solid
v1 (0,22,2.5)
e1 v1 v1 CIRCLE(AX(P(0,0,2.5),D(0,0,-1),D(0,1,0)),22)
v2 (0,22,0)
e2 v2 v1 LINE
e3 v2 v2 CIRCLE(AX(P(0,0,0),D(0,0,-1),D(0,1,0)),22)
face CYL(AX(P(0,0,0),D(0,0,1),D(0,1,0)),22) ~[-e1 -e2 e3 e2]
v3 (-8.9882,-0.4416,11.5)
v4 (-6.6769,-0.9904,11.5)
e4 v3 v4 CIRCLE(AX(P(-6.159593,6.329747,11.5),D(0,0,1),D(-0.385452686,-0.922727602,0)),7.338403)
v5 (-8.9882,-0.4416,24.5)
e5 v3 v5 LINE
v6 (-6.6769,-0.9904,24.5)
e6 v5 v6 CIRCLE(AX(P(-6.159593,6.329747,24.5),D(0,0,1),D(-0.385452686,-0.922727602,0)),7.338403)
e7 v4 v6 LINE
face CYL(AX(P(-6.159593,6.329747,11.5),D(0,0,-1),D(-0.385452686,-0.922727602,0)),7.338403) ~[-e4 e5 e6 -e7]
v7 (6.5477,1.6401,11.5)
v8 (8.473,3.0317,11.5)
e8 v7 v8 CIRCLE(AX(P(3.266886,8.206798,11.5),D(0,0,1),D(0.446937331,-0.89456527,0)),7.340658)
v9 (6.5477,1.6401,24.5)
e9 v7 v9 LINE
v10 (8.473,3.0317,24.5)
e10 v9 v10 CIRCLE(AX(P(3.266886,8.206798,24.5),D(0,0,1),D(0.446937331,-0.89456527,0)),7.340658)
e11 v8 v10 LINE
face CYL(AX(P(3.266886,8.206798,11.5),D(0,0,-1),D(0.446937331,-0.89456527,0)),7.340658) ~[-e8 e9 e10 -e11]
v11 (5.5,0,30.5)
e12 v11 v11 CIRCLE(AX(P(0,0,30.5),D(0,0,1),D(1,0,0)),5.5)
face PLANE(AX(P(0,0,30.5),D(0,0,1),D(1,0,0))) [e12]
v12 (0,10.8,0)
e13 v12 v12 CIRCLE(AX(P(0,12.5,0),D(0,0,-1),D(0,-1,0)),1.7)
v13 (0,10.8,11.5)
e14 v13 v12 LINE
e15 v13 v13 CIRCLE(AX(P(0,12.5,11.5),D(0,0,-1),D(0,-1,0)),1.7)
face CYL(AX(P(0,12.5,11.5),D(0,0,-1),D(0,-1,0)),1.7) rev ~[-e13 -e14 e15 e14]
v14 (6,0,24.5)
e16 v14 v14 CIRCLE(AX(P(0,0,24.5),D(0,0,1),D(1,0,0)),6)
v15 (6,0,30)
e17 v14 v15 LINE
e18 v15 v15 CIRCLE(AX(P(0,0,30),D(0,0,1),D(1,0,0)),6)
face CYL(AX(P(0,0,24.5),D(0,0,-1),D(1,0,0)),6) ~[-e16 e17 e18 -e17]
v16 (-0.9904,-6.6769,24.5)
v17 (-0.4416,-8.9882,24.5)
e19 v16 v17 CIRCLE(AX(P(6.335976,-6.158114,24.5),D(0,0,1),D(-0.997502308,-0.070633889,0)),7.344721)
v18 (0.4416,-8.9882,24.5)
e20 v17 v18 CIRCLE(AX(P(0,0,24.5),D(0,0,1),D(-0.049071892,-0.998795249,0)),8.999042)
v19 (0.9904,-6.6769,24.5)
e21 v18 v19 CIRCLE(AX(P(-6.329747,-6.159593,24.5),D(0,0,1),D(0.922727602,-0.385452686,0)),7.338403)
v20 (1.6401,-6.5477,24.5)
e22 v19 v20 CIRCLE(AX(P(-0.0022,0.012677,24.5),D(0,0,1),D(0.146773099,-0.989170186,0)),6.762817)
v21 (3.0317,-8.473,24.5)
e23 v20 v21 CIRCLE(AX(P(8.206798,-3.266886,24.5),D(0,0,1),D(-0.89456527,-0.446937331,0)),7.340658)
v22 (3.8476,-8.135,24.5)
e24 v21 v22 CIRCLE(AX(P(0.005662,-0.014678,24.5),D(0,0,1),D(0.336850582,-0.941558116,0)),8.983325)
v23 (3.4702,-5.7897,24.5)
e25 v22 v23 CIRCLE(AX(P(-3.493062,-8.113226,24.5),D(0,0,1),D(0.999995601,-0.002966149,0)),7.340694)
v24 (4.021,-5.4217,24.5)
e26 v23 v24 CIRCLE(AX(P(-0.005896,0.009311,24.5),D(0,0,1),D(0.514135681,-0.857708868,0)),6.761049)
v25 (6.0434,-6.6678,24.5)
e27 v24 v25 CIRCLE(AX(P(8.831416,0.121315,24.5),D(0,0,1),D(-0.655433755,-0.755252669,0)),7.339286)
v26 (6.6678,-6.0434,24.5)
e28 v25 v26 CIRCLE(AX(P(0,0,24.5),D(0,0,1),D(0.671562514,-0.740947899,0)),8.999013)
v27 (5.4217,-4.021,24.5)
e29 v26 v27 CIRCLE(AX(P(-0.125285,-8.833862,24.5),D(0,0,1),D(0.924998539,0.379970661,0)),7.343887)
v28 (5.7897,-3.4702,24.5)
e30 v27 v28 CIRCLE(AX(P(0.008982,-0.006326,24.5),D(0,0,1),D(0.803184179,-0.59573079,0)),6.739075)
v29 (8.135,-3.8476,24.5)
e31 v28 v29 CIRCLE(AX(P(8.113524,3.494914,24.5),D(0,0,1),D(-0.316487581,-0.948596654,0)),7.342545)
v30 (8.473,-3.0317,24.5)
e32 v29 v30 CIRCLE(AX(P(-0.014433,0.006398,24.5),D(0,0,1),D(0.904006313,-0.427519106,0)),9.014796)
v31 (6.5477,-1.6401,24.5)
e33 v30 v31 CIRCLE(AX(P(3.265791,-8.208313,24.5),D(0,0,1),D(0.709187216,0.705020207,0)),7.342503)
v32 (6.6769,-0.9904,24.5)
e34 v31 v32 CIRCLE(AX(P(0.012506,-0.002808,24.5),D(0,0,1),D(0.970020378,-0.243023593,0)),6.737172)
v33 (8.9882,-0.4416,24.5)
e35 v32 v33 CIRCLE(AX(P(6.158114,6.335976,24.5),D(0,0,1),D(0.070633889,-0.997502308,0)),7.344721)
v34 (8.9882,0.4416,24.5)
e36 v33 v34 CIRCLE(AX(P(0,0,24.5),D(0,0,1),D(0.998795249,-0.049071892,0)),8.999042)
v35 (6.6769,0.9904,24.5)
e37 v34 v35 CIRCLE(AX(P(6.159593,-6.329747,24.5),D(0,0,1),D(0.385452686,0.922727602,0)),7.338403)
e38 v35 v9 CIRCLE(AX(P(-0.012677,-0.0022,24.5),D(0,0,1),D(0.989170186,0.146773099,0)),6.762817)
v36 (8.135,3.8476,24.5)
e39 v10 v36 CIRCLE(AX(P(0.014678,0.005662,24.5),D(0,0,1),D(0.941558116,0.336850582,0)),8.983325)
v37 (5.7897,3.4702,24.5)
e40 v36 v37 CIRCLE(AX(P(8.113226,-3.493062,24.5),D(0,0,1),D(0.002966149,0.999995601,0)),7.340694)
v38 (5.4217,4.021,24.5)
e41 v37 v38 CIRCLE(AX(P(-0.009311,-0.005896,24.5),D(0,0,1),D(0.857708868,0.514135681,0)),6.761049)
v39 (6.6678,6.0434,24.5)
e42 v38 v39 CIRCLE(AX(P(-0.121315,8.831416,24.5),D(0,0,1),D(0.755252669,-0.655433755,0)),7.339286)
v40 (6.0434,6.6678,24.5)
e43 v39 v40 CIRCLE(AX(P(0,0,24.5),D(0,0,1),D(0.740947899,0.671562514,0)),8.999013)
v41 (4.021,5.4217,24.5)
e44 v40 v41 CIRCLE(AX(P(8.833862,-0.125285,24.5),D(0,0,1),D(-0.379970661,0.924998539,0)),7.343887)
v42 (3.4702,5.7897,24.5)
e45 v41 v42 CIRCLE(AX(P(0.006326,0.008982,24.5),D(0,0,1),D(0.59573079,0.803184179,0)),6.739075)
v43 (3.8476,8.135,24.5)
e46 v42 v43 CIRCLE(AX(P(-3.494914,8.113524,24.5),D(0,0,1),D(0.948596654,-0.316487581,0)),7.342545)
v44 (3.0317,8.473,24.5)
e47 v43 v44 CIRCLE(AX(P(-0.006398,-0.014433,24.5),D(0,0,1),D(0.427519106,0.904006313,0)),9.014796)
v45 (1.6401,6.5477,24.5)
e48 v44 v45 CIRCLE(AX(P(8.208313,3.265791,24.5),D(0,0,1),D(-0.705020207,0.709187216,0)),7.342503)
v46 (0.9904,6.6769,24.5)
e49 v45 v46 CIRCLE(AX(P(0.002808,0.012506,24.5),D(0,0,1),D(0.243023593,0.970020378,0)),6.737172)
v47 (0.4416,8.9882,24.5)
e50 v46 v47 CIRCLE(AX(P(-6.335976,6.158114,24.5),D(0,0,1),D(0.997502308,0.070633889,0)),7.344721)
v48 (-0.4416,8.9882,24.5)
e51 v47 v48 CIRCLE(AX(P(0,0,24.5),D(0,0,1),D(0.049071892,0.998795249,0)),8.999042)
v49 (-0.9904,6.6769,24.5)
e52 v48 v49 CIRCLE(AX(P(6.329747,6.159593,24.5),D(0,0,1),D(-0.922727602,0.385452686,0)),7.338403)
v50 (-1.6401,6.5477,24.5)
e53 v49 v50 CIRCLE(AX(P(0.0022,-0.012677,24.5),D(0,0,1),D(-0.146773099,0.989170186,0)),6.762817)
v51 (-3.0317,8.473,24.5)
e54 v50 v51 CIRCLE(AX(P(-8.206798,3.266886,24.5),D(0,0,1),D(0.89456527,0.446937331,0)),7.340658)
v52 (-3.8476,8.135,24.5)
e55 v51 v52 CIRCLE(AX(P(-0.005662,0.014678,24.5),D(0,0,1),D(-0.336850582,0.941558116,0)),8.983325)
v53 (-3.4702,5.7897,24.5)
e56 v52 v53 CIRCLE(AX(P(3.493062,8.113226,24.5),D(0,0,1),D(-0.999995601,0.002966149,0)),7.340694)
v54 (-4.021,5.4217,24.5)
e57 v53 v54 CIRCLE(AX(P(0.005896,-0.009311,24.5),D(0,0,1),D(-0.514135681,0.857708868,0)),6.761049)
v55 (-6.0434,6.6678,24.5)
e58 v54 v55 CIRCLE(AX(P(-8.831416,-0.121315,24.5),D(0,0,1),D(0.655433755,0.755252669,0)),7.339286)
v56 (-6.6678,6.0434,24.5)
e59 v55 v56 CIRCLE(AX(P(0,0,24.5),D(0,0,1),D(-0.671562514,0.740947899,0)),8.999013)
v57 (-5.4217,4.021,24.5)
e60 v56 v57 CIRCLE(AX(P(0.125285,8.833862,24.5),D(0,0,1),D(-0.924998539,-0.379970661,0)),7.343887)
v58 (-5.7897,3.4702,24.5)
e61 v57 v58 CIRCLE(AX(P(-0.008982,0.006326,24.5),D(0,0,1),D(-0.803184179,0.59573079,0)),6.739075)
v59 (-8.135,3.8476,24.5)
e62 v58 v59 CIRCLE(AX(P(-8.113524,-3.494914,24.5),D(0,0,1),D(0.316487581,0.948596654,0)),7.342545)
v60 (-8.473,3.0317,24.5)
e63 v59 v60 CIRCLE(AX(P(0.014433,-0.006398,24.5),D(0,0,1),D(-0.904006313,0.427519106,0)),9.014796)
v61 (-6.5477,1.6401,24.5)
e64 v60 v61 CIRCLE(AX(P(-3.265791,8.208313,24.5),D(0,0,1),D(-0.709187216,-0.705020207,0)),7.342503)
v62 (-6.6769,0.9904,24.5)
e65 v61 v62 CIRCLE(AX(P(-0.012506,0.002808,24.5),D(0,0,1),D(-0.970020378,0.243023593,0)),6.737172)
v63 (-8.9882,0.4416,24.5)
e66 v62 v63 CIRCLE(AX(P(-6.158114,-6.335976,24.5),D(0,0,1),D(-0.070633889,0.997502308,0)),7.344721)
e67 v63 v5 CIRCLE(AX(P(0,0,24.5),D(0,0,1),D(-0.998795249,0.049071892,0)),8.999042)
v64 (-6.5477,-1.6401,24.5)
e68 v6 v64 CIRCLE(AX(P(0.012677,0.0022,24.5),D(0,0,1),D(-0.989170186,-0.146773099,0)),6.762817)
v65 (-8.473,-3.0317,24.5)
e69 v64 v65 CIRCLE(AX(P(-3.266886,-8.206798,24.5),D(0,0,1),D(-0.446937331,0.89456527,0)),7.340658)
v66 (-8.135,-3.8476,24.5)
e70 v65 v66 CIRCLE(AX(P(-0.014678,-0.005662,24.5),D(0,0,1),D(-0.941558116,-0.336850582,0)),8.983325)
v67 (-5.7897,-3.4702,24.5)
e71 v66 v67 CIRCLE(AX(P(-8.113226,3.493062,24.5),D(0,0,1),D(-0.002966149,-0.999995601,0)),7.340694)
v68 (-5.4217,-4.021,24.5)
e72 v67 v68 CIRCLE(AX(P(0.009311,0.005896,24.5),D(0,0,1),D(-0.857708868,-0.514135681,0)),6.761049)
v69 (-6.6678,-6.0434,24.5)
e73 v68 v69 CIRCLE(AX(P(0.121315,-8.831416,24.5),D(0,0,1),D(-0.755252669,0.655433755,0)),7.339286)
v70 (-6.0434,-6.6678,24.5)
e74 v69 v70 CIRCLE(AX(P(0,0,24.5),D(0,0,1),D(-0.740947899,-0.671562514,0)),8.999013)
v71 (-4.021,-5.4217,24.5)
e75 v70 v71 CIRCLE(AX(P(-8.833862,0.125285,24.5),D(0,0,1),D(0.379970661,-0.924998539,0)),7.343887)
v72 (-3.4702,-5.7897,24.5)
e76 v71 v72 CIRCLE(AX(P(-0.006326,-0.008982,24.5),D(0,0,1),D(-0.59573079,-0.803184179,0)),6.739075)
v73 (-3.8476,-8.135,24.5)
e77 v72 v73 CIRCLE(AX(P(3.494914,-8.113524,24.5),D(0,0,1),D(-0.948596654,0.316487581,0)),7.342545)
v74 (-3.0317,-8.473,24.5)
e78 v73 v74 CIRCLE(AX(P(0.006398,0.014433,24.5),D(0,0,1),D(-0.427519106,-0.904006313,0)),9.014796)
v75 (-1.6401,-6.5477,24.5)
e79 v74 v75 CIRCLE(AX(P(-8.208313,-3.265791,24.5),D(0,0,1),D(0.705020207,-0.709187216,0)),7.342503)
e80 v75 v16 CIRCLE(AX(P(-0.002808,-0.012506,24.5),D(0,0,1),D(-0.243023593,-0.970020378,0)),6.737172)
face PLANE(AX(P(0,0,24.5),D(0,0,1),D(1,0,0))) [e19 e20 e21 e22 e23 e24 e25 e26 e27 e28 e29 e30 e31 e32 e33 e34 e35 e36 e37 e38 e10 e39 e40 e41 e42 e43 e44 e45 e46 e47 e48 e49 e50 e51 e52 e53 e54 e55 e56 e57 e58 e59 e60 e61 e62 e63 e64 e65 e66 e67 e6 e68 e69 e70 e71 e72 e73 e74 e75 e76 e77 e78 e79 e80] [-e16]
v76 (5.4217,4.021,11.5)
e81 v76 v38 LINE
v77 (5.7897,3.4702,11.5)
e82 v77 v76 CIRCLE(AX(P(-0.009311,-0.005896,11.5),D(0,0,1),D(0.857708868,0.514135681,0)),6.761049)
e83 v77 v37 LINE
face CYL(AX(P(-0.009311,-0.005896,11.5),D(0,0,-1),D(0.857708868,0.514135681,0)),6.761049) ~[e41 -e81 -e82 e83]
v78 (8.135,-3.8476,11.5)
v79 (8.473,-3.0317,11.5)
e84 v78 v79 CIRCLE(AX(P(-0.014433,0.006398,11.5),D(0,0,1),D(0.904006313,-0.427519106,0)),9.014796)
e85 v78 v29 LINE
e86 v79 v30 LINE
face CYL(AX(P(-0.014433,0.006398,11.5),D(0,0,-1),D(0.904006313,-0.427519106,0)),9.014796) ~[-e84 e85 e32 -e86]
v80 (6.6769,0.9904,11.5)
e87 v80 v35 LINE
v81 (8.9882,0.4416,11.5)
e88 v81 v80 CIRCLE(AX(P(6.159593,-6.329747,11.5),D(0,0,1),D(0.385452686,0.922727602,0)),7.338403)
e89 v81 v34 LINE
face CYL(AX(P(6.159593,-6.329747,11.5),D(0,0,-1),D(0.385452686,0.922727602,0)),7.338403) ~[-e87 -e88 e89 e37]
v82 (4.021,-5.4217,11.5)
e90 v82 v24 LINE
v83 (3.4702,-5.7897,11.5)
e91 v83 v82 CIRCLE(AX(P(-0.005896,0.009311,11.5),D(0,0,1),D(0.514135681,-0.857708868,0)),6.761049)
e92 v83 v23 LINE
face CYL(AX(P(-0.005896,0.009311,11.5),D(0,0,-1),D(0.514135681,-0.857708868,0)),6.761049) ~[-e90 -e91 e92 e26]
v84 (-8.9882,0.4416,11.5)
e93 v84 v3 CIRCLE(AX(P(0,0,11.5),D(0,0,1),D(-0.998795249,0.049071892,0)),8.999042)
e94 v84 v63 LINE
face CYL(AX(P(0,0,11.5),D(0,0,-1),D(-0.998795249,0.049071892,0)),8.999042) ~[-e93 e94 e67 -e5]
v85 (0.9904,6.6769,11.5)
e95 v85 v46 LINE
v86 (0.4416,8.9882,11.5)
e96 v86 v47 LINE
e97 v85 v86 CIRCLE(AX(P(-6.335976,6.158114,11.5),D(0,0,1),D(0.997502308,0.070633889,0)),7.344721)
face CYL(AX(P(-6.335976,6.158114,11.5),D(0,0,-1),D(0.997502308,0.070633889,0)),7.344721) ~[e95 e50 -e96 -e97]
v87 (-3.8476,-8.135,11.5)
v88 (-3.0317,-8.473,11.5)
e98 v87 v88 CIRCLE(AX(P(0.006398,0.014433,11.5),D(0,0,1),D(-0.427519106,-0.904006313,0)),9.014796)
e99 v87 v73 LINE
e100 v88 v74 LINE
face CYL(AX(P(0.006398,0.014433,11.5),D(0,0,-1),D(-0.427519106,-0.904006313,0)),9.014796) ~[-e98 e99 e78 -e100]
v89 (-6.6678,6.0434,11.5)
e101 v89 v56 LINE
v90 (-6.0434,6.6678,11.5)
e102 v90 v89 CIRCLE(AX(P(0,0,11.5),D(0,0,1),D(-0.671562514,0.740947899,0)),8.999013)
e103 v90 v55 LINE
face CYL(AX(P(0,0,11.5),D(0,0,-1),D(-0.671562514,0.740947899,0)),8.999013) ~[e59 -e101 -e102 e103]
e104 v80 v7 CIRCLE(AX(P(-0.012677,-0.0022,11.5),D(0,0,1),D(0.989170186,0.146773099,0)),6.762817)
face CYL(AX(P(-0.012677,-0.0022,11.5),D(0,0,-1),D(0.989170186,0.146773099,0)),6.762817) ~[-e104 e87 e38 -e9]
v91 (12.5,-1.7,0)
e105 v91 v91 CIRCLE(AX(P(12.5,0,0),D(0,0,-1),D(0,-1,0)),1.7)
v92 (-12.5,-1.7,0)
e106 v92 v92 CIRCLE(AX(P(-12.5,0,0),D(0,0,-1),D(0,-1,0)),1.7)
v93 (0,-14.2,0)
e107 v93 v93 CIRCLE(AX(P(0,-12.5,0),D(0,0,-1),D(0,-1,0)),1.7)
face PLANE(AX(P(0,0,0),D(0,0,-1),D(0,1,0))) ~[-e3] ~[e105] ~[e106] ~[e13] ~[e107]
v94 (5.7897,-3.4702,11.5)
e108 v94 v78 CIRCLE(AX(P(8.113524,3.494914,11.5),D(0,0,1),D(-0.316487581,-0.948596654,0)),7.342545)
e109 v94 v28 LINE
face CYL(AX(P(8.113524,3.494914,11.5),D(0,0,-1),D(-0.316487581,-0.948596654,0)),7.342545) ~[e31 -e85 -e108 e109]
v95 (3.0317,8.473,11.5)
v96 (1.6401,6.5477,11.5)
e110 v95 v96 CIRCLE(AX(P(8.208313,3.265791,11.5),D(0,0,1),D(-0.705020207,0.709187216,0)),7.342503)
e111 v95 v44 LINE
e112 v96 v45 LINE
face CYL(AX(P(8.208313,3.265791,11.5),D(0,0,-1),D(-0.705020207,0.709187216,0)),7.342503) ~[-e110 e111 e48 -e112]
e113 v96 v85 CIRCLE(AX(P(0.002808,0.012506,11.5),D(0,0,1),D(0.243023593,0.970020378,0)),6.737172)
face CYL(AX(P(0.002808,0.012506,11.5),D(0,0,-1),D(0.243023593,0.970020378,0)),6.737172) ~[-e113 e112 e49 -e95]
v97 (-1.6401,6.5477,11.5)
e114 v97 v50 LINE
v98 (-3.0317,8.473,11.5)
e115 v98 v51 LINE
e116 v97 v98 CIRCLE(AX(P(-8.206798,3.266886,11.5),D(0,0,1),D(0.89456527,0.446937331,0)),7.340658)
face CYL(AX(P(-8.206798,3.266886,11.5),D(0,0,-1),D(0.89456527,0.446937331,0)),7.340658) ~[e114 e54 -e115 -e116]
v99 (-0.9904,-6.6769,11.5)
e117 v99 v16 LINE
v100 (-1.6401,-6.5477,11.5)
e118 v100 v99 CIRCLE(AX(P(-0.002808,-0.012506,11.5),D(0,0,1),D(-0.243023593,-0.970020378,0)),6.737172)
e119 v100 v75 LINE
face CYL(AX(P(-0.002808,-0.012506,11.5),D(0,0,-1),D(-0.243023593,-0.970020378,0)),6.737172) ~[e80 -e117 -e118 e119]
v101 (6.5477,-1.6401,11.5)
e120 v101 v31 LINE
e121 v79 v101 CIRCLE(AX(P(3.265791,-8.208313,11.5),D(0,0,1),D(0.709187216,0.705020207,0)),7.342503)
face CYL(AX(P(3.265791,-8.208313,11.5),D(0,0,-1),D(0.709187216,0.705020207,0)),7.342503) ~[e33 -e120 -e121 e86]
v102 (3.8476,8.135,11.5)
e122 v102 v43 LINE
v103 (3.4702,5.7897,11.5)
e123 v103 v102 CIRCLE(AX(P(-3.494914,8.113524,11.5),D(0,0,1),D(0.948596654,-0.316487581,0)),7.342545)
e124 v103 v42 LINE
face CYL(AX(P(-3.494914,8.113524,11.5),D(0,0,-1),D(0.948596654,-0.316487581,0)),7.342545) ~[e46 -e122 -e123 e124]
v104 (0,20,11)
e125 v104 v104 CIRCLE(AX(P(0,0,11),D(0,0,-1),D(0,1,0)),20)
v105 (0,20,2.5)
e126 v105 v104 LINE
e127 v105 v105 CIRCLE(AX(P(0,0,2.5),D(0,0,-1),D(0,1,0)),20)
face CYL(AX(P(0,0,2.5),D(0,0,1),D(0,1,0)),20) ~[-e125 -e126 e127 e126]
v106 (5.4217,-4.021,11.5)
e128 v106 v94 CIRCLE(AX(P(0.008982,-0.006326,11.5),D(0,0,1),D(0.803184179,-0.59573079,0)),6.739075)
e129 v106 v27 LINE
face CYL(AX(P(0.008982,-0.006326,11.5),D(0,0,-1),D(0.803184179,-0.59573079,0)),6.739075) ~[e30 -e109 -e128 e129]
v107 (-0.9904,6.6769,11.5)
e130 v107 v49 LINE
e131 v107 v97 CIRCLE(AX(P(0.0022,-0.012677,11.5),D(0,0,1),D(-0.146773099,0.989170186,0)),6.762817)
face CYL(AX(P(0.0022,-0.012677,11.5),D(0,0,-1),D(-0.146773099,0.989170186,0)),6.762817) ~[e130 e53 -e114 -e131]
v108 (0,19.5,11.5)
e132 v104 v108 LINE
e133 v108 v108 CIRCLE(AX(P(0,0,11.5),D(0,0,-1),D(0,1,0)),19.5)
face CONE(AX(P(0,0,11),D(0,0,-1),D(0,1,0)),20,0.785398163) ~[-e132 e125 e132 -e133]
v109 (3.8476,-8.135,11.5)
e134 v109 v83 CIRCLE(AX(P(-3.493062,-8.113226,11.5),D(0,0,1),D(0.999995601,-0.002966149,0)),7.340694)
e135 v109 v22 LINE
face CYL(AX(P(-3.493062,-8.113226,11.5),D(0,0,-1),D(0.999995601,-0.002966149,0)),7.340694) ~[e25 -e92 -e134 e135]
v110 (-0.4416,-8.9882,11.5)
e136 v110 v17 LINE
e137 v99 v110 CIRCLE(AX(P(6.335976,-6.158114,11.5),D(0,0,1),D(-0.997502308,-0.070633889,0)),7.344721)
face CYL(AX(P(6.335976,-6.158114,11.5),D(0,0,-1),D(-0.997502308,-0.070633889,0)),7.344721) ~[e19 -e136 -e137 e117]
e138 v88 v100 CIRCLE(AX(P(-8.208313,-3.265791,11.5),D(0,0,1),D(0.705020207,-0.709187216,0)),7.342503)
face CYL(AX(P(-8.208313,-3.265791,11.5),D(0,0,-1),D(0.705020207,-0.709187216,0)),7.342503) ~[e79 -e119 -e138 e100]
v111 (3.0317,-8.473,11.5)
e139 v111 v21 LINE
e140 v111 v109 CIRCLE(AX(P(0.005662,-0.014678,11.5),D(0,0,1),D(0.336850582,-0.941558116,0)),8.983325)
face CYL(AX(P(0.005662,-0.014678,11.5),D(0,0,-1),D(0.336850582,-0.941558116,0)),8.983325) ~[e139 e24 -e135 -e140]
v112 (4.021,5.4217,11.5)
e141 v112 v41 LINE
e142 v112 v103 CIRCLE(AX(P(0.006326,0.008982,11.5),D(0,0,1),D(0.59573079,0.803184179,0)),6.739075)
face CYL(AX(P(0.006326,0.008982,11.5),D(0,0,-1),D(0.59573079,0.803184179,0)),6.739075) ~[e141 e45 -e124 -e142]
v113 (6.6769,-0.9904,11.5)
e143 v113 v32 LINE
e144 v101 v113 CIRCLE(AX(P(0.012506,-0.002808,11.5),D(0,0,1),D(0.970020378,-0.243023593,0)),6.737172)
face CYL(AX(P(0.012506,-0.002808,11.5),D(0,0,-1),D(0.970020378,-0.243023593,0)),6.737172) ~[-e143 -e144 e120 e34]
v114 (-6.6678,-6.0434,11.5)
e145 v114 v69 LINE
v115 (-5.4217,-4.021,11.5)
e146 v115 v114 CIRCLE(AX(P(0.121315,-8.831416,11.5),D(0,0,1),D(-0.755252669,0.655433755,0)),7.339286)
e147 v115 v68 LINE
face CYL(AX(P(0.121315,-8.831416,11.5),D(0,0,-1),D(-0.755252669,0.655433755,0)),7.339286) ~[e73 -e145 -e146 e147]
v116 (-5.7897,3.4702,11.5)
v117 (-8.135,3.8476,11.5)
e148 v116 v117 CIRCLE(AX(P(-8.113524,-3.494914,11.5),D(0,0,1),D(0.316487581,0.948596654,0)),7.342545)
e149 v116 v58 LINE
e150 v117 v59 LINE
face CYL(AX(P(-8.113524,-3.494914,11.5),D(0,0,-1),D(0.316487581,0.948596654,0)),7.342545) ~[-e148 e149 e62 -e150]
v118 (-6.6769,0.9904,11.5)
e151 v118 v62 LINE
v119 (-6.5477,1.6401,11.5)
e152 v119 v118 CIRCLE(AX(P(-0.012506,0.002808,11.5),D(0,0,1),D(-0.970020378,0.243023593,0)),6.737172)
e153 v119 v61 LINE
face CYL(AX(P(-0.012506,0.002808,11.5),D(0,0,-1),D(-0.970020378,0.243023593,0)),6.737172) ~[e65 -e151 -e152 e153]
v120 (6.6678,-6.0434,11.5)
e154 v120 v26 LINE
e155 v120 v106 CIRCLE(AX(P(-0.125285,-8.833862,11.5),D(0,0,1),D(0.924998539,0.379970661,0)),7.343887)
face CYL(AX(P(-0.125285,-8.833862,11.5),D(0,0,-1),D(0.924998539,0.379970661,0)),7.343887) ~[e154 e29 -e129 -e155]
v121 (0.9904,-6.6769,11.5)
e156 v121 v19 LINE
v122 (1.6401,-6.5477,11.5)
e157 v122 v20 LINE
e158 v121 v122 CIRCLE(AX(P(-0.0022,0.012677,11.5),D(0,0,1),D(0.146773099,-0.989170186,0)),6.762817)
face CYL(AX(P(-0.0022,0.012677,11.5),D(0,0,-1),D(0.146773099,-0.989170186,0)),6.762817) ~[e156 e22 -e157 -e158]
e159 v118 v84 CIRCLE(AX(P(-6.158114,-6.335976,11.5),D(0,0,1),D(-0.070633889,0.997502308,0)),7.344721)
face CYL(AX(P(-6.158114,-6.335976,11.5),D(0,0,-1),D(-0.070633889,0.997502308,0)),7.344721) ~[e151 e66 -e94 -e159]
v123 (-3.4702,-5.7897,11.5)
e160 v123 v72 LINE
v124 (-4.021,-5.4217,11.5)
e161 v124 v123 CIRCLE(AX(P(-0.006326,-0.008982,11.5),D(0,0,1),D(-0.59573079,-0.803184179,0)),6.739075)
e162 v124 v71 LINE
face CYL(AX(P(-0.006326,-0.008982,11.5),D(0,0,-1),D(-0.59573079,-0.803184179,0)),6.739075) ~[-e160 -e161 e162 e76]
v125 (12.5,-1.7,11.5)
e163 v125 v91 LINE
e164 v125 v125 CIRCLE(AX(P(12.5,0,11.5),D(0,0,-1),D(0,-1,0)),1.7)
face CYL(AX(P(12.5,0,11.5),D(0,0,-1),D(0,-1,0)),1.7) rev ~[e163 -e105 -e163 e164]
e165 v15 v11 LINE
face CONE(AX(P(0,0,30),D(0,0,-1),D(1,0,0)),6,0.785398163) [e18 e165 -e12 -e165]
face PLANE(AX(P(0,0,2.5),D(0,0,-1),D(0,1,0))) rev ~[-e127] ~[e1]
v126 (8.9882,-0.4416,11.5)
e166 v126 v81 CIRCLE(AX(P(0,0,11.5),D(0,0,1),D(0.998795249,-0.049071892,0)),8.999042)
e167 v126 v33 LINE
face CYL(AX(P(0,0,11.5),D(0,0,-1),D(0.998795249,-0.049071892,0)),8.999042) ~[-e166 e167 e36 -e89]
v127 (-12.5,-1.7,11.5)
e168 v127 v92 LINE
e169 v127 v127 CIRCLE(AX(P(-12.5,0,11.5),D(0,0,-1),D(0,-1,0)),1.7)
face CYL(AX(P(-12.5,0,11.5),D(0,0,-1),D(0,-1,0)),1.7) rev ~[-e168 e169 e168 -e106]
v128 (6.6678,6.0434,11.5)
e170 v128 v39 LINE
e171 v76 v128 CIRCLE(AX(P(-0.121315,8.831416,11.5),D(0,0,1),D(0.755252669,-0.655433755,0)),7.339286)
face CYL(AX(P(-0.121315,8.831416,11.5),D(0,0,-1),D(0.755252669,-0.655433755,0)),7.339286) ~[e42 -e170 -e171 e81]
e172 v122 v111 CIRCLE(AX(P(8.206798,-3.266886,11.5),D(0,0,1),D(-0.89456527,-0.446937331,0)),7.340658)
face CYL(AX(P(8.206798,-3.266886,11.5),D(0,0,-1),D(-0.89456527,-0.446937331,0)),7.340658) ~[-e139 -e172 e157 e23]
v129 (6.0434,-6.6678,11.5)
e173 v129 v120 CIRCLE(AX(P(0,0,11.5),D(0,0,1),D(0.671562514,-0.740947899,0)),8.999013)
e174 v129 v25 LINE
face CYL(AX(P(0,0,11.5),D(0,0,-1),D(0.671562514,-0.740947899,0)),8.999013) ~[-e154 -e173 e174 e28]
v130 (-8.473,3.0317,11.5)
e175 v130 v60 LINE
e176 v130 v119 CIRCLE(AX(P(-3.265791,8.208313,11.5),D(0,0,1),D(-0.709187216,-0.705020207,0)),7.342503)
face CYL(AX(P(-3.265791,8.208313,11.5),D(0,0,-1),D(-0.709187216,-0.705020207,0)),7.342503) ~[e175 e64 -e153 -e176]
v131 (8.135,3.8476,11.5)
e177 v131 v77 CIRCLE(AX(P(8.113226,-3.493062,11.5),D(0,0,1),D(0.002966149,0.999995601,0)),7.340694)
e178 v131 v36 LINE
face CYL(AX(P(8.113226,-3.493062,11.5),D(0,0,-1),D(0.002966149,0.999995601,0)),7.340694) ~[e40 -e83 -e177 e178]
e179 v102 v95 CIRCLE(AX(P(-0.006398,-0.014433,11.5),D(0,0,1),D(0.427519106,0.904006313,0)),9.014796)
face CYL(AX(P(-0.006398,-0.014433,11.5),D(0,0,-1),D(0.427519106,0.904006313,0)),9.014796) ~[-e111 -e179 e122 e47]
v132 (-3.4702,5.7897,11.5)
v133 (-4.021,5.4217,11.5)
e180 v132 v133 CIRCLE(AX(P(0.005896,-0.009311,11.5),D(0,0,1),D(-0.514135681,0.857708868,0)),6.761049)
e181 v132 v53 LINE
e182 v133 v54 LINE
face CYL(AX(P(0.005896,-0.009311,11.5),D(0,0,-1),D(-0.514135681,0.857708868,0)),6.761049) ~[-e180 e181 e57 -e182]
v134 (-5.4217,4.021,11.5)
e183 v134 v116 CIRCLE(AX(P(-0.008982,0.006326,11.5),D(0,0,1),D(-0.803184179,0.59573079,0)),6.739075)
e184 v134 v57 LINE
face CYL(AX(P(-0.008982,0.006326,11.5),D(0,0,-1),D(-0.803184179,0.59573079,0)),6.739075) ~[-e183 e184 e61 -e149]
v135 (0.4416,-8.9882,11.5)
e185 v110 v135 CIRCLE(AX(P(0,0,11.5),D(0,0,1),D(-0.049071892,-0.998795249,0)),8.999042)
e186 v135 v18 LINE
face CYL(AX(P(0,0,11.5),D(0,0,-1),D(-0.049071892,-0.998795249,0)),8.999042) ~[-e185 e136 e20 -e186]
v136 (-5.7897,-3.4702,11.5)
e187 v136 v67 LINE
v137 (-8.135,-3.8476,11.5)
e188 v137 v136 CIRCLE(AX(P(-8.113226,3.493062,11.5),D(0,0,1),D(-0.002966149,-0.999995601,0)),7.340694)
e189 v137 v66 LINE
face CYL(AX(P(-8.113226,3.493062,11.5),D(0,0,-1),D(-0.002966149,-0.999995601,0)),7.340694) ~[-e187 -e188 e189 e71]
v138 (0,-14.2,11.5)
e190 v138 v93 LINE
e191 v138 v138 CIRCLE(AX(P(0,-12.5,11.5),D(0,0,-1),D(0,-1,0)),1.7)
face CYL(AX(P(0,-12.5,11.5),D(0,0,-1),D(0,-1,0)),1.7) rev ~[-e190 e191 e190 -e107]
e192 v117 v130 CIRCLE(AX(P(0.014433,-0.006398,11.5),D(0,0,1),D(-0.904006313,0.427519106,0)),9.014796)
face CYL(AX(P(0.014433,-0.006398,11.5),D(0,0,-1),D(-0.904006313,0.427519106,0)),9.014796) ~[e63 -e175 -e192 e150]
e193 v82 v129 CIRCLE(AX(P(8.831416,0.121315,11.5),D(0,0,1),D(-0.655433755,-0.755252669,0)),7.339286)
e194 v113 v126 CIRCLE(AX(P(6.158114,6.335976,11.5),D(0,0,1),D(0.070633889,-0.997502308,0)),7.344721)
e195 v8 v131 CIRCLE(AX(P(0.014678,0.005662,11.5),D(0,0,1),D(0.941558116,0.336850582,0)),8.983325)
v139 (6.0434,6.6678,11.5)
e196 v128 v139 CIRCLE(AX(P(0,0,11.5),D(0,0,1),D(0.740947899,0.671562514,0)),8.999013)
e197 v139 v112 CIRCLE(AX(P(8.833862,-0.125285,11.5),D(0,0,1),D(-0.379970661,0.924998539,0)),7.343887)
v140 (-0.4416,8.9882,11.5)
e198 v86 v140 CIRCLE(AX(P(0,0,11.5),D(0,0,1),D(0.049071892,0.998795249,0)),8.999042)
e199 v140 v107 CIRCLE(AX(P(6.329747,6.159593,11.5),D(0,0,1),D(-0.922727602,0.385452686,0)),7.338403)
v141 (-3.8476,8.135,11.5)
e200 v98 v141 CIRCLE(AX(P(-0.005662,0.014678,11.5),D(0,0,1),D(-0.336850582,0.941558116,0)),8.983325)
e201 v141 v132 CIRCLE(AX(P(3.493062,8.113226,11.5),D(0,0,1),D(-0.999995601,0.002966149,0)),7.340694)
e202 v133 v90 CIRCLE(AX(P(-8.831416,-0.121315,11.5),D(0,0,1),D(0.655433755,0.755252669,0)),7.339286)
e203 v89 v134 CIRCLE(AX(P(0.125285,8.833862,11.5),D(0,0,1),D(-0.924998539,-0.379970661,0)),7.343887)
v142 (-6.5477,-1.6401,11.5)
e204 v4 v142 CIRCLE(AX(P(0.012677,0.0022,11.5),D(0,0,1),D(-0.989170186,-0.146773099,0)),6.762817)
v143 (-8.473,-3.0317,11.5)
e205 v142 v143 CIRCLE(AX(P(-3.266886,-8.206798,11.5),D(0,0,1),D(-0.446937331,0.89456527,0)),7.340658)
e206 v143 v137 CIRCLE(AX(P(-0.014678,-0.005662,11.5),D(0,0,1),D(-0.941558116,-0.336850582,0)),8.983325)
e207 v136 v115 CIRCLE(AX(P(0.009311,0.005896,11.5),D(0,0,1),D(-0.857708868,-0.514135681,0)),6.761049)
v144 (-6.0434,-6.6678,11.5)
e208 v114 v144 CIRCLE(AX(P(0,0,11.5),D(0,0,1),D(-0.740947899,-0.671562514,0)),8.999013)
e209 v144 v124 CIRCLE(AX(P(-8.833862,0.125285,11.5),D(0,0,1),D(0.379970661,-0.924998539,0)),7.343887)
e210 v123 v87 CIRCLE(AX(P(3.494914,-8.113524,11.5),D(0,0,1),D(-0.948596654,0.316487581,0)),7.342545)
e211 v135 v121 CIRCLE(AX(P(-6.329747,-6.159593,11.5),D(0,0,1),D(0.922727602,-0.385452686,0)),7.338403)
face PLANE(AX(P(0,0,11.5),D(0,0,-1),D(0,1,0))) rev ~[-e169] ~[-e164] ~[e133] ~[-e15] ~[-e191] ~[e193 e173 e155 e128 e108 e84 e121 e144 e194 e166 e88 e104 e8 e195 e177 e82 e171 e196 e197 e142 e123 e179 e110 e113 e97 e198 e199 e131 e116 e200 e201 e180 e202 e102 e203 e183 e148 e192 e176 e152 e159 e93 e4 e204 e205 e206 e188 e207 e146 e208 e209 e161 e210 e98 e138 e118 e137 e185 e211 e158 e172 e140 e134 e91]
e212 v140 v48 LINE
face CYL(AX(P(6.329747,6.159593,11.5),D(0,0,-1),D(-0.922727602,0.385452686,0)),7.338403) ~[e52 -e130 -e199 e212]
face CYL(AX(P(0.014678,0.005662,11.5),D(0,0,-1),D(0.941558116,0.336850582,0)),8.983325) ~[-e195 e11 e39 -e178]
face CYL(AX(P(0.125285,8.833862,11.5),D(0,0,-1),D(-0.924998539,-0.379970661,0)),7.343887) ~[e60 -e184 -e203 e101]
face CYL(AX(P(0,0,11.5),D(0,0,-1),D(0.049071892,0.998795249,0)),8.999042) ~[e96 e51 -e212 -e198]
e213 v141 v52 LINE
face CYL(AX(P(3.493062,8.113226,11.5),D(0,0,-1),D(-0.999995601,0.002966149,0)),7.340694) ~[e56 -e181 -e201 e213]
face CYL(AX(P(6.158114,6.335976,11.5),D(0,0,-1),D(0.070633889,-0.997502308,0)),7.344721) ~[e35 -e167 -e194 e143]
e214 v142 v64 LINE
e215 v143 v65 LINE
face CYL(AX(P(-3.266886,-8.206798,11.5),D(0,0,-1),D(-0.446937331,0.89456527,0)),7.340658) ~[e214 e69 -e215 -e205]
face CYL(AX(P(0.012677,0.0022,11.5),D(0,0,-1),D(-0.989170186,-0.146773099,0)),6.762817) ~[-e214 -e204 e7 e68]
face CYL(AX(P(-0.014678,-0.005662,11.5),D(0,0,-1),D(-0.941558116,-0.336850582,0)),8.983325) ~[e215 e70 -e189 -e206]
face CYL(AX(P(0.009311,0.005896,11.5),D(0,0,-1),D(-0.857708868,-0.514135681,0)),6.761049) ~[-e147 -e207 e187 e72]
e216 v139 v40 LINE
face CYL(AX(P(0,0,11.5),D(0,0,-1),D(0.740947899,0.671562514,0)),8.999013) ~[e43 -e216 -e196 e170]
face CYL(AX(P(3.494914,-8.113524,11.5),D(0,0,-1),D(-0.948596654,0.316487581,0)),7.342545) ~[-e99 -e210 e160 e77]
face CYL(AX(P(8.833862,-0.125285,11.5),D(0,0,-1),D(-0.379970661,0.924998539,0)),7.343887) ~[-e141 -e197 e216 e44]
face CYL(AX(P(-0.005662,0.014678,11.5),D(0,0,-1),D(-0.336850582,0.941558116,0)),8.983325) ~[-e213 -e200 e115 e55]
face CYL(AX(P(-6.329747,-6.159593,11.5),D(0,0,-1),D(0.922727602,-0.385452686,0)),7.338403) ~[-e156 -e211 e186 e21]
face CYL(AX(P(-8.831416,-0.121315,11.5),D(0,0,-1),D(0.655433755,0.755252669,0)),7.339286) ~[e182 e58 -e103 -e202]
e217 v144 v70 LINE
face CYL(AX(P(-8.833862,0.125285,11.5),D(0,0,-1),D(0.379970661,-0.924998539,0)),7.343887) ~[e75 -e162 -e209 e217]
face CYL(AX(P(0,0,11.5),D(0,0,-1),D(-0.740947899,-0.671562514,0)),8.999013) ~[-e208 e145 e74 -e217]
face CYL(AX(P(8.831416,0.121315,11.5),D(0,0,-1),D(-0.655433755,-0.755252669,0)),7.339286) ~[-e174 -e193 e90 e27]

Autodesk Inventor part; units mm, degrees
ref_plane "YZ Plane" through (0, 0, 0) normal (1, 0, 0) x (0, 1, 0)
ref_plane "XZ Plane" through (0, 0, 0) normal (0, 1, 0) x (-1, 0, 0)
ref_plane "XY Plane" through (0, 0, 0) normal (0, 0, 1) x (1, 0, 0)
sketch "スケッチ1" plane through (0, 0, 0) normal (1, 0, 0) x (0, 1, 0)
  line L0 (22, 0) -> (22, 2.5)
  line L1 (22, 2.5) -> (20, 2.5)
  line L2 (20, 2.5) -> (20, 11.5)
  line L3 (20, 11.5) -> (0, 11.5)
  line L4 (0, 11.5) -> (0, 0)
  line L5 (0, 0) -> (22, 0)
  dimension "d0" = 20
  dimension "d1" = 9
  dimension "d2" = 2.5
  dimension "d3" = 2
revolve "回転1" add sketch "スケッチ1" angle 360 about axis through (0, 0, 11.5) along (0, 0, -1)
sketch "スケッチ2" plane through (0, 0, 11.5) normal (0, 0, 1) x (1, 0, 0)
  arc A0 (-3.8476, 8.135) -> (-3.4702, 5.7897) centre (3.494, 8.1133) ccw
  arc A1 (-3.4702, 5.7897) -> (-4.021, 5.4217) centre (0, 0) ccw
  arc A2 (-4.021, 5.4217) -> (-6.0434, 6.6678) centre (-8.8328, -0.1232) ccw
  arc A3 (-6.0434, 6.6678) -> (-6.6678, 6.0434) centre (0, 0) ccw
  arc A4 (-6.6678, 6.0434) -> (-5.4217, 4.021) centre (0.1232, 8.8328) ccw
  arc A5 (-5.4217, 4.021) -> (-5.7897, 3.4702) centre (0, 0) ccw
  arc A6 (-5.7897, 3.4702) -> (-8.135, 3.8476) centre (-8.1133, -3.494) ccw
  arc A7 (-8.135, 3.8476) -> (-8.473, 3.0317) centre (0, 0) ccw
  arc A8 (-8.473, 3.0317) -> (-6.5477, 1.6401) centre (-3.2664, 8.2076) ccw
  arc A9 (-6.5477, 1.6401) -> (-6.6769, 0.9904) centre (0, 0) ccw
  arc A10 (-6.6769, 0.9904) -> (-8.9882, 0.4416) centre (-6.1586, -6.3328) ccw
  arc A11 (-8.9882, 0.4416) -> (-8.9882, -0.4416) centre (0, 0) ccw
  arc A12 (-8.9882, -0.4416) -> (-6.6769, -0.9904) centre (-6.1586, 6.3328) ccw
  arc A13 (-6.6769, -0.9904) -> (-6.5477, -1.6401) centre (0, 0) ccw
  arc A14 (-6.5477, -1.6401) -> (-8.473, -3.0317) centre (-3.2664, -8.2076) ccw
  arc A15 (-8.473, -3.0317) -> (-8.135, -3.8476) centre (0, 0) ccw
  arc A16 (-8.135, -3.8476) -> (-5.7897, -3.4702) centre (-8.1133, 3.494) ccw
  arc A17 (-5.7897, -3.4702) -> (-5.4217, -4.021) centre (0, 0) ccw
  arc A18 (-5.4217, -4.021) -> (-6.6678, -6.0434) centre (0.1232, -8.8328) ccw
  arc A19 (-6.6678, -6.0434) -> (-6.0434, -6.6678) centre (0, 0) ccw
  arc A20 (-6.0434, -6.6678) -> (-4.021, -5.4217) centre (-8.8328, 0.1232) ccw
  arc A21 (-4.021, -5.4217) -> (-3.4702, -5.7897) centre (0, 0) ccw
  arc A22 (-3.4702, -5.7897) -> (-3.8476, -8.135) centre (3.494, -8.1133) ccw
  arc A23 (-3.8476, -8.135) -> (-3.0317, -8.473) centre (0, 0) ccw
  arc A24 (-3.0317, -8.473) -> (-1.6401, -6.5477) centre (-8.2076, -3.2664) ccw
  arc A25 (-1.6401, -6.5477) -> (-0.9904, -6.6769) centre (0, 0) ccw
  arc A26 (-0.9904, -6.6769) -> (-0.4416, -8.9882) centre (6.3328, -6.1586) ccw
  arc A27 (-0.4416, -8.9882) -> (0.4416, -8.9882) centre (0, 0) ccw
  arc A28 (0.4416, -8.9882) -> (0.9904, -6.6769) centre (-6.3328, -6.1586) ccw
  arc A29 (0.9904, -6.6769) -> (1.6401, -6.5477) centre (0, 0) ccw
  arc A30 (1.6401, -6.5477) -> (3.0317, -8.473) centre (8.2076, -3.2664) ccw
  arc A31 (3.0317, -8.473) -> (3.8476, -8.135) centre (0, 0) ccw
  arc A32 (3.8476, -8.135) -> (3.4702, -5.7897) centre (-3.494, -8.1133) ccw
  arc A33 (3.4702, -5.7897) -> (4.021, -5.4217) centre (0, 0) ccw
  arc A34 (4.021, -5.4217) -> (6.0434, -6.6678) centre (8.8328, 0.1232) ccw
  arc A35 (6.0434, -6.6678) -> (6.6678, -6.0434) centre (0, 0) ccw
  arc A36 (6.6678, -6.0434) -> (5.4217, -4.021) centre (-0.1232, -8.8328) ccw
  arc A37 (5.4217, -4.021) -> (5.7897, -3.4702) centre (0, 0) ccw
  arc A38 (5.7897, -3.4702) -> (8.135, -3.8476) centre (8.1133, 3.494) ccw
  arc A39 (8.135, -3.8476) -> (8.473, -3.0317) centre (0, 0) ccw
  arc A40 (8.473, -3.0317) -> (6.5477, -1.6401) centre (3.2664, -8.2076) ccw
  arc A41 (6.5477, -1.6401) -> (6.6769, -0.9904) centre (0, 0) ccw
  arc A42 (6.6769, -0.9904) -> (8.9882, -0.4416) centre (6.1586, 6.3328) ccw
  arc A43 (8.9882, -0.4416) -> (8.9882, 0.4416) centre (0, 0) ccw
  arc A44 (8.9882, 0.4416) -> (6.6769, 0.9904) centre (6.1586, -6.3328) ccw
  arc A45 (6.6769, 0.9904) -> (6.5477, 1.6401) centre (0, 0) ccw
  arc A46 (6.5477, 1.6401) -> (8.473, 3.0317) centre (3.2664, 8.2076) ccw
  arc A47 (8.473, 3.0317) -> (8.135, 3.8476) centre (0, 0) ccw
  arc A48 (8.135, 3.8476) -> (5.7897, 3.4702) centre (8.1133, -3.494) ccw
  arc A49 (5.7897, 3.4702) -> (5.4217, 4.021) centre (0, 0) ccw
  arc A50 (5.4217, 4.021) -> (6.6678, 6.0434) centre (-0.1232, 8.8328) ccw
  arc A51 (6.6678, 6.0434) -> (6.0434, 6.6678) centre (0, 0) ccw
  arc A52 (6.0434, 6.6678) -> (4.021, 5.4217) centre (8.8328, -0.1232) ccw
  arc A53 (4.021, 5.4217) -> (3.4702, 5.7897) centre (0, 0) ccw
  arc A54 (3.4702, 5.7897) -> (3.8476, 8.135) centre (-3.494, 8.1133) ccw
  arc A55 (3.8476, 8.135) -> (3.0317, 8.473) centre (0, 0) ccw
  arc A56 (3.0317, 8.473) -> (1.6401, 6.5477) centre (8.2076, 3.2664) ccw
  arc A57 (1.6401, 6.5477) -> (0.9904, 6.6769) centre (0, 0) ccw
  arc A58 (0.9904, 6.6769) -> (0.4416, 8.9882) centre (-6.3328, 6.1586) ccw
  arc A59 (0.4416, 8.9882) -> (-0.4416, 8.9882) centre (0, 0) ccw
  arc A60 (-0.4416, 8.9882) -> (-0.9904, 6.6769) centre (6.3328, 6.1586) ccw
  arc A61 (-0.9904, 6.6769) -> (-1.6401, 6.5477) centre (0, 0) ccw
  arc A62 (-1.6401, 6.5477) -> (-3.0317, 8.473) centre (-8.2076, 3.2664) ccw
  arc A63 (-3.0317, 8.473) -> (-3.8476, 8.135) centre (0, 0) ccw
  point P0 (0, 0)
extrude "押し出し1" add sketch "スケッチ2" along normal blind 13
sketch "スケッチ3" plane through (0, 0, 24.5) normal (0, 0, 1) x (1, 0, 0)
  circle A0 centre (0, 0) radius 6
  dimension "d7" = 12
extrude "押し出し2" add sketch "スケッチ3" along normal blind 6
chamfer "面取り1" distance 0.5 angle 45 2 edges at (-6, 0, 30.5) (0, -20, 11.5)
sketch "スケッチ4" plane through (0, 0, 11.5) normal (0, 0, 1) x (1, 0, 0)
  circle A0 centre (0, 0) radius 12.5
  point P0 (0, 0)
  point P1 (0, 12.5)
  point P2 (-12.5, 0)
  point P3 (0, -12.5)
  point P4 (12.5, 0)
  dimension "d13" = 25
  dimension "d16" = 360
hole "穴1" at (0, 12.5, 11.5) at (-12.5, 0, 11.5) at (0, -12.5, 11.5) at (12.5, 0, 11.5) direction (0, 0, -1) diameter 3.4 end through all clearance for "Flat Head Machine Screw" size "M3" standard "Ansi Metric M Profile"
properties part number "s-assy-sun_gear" material "ABS プラスチック"
